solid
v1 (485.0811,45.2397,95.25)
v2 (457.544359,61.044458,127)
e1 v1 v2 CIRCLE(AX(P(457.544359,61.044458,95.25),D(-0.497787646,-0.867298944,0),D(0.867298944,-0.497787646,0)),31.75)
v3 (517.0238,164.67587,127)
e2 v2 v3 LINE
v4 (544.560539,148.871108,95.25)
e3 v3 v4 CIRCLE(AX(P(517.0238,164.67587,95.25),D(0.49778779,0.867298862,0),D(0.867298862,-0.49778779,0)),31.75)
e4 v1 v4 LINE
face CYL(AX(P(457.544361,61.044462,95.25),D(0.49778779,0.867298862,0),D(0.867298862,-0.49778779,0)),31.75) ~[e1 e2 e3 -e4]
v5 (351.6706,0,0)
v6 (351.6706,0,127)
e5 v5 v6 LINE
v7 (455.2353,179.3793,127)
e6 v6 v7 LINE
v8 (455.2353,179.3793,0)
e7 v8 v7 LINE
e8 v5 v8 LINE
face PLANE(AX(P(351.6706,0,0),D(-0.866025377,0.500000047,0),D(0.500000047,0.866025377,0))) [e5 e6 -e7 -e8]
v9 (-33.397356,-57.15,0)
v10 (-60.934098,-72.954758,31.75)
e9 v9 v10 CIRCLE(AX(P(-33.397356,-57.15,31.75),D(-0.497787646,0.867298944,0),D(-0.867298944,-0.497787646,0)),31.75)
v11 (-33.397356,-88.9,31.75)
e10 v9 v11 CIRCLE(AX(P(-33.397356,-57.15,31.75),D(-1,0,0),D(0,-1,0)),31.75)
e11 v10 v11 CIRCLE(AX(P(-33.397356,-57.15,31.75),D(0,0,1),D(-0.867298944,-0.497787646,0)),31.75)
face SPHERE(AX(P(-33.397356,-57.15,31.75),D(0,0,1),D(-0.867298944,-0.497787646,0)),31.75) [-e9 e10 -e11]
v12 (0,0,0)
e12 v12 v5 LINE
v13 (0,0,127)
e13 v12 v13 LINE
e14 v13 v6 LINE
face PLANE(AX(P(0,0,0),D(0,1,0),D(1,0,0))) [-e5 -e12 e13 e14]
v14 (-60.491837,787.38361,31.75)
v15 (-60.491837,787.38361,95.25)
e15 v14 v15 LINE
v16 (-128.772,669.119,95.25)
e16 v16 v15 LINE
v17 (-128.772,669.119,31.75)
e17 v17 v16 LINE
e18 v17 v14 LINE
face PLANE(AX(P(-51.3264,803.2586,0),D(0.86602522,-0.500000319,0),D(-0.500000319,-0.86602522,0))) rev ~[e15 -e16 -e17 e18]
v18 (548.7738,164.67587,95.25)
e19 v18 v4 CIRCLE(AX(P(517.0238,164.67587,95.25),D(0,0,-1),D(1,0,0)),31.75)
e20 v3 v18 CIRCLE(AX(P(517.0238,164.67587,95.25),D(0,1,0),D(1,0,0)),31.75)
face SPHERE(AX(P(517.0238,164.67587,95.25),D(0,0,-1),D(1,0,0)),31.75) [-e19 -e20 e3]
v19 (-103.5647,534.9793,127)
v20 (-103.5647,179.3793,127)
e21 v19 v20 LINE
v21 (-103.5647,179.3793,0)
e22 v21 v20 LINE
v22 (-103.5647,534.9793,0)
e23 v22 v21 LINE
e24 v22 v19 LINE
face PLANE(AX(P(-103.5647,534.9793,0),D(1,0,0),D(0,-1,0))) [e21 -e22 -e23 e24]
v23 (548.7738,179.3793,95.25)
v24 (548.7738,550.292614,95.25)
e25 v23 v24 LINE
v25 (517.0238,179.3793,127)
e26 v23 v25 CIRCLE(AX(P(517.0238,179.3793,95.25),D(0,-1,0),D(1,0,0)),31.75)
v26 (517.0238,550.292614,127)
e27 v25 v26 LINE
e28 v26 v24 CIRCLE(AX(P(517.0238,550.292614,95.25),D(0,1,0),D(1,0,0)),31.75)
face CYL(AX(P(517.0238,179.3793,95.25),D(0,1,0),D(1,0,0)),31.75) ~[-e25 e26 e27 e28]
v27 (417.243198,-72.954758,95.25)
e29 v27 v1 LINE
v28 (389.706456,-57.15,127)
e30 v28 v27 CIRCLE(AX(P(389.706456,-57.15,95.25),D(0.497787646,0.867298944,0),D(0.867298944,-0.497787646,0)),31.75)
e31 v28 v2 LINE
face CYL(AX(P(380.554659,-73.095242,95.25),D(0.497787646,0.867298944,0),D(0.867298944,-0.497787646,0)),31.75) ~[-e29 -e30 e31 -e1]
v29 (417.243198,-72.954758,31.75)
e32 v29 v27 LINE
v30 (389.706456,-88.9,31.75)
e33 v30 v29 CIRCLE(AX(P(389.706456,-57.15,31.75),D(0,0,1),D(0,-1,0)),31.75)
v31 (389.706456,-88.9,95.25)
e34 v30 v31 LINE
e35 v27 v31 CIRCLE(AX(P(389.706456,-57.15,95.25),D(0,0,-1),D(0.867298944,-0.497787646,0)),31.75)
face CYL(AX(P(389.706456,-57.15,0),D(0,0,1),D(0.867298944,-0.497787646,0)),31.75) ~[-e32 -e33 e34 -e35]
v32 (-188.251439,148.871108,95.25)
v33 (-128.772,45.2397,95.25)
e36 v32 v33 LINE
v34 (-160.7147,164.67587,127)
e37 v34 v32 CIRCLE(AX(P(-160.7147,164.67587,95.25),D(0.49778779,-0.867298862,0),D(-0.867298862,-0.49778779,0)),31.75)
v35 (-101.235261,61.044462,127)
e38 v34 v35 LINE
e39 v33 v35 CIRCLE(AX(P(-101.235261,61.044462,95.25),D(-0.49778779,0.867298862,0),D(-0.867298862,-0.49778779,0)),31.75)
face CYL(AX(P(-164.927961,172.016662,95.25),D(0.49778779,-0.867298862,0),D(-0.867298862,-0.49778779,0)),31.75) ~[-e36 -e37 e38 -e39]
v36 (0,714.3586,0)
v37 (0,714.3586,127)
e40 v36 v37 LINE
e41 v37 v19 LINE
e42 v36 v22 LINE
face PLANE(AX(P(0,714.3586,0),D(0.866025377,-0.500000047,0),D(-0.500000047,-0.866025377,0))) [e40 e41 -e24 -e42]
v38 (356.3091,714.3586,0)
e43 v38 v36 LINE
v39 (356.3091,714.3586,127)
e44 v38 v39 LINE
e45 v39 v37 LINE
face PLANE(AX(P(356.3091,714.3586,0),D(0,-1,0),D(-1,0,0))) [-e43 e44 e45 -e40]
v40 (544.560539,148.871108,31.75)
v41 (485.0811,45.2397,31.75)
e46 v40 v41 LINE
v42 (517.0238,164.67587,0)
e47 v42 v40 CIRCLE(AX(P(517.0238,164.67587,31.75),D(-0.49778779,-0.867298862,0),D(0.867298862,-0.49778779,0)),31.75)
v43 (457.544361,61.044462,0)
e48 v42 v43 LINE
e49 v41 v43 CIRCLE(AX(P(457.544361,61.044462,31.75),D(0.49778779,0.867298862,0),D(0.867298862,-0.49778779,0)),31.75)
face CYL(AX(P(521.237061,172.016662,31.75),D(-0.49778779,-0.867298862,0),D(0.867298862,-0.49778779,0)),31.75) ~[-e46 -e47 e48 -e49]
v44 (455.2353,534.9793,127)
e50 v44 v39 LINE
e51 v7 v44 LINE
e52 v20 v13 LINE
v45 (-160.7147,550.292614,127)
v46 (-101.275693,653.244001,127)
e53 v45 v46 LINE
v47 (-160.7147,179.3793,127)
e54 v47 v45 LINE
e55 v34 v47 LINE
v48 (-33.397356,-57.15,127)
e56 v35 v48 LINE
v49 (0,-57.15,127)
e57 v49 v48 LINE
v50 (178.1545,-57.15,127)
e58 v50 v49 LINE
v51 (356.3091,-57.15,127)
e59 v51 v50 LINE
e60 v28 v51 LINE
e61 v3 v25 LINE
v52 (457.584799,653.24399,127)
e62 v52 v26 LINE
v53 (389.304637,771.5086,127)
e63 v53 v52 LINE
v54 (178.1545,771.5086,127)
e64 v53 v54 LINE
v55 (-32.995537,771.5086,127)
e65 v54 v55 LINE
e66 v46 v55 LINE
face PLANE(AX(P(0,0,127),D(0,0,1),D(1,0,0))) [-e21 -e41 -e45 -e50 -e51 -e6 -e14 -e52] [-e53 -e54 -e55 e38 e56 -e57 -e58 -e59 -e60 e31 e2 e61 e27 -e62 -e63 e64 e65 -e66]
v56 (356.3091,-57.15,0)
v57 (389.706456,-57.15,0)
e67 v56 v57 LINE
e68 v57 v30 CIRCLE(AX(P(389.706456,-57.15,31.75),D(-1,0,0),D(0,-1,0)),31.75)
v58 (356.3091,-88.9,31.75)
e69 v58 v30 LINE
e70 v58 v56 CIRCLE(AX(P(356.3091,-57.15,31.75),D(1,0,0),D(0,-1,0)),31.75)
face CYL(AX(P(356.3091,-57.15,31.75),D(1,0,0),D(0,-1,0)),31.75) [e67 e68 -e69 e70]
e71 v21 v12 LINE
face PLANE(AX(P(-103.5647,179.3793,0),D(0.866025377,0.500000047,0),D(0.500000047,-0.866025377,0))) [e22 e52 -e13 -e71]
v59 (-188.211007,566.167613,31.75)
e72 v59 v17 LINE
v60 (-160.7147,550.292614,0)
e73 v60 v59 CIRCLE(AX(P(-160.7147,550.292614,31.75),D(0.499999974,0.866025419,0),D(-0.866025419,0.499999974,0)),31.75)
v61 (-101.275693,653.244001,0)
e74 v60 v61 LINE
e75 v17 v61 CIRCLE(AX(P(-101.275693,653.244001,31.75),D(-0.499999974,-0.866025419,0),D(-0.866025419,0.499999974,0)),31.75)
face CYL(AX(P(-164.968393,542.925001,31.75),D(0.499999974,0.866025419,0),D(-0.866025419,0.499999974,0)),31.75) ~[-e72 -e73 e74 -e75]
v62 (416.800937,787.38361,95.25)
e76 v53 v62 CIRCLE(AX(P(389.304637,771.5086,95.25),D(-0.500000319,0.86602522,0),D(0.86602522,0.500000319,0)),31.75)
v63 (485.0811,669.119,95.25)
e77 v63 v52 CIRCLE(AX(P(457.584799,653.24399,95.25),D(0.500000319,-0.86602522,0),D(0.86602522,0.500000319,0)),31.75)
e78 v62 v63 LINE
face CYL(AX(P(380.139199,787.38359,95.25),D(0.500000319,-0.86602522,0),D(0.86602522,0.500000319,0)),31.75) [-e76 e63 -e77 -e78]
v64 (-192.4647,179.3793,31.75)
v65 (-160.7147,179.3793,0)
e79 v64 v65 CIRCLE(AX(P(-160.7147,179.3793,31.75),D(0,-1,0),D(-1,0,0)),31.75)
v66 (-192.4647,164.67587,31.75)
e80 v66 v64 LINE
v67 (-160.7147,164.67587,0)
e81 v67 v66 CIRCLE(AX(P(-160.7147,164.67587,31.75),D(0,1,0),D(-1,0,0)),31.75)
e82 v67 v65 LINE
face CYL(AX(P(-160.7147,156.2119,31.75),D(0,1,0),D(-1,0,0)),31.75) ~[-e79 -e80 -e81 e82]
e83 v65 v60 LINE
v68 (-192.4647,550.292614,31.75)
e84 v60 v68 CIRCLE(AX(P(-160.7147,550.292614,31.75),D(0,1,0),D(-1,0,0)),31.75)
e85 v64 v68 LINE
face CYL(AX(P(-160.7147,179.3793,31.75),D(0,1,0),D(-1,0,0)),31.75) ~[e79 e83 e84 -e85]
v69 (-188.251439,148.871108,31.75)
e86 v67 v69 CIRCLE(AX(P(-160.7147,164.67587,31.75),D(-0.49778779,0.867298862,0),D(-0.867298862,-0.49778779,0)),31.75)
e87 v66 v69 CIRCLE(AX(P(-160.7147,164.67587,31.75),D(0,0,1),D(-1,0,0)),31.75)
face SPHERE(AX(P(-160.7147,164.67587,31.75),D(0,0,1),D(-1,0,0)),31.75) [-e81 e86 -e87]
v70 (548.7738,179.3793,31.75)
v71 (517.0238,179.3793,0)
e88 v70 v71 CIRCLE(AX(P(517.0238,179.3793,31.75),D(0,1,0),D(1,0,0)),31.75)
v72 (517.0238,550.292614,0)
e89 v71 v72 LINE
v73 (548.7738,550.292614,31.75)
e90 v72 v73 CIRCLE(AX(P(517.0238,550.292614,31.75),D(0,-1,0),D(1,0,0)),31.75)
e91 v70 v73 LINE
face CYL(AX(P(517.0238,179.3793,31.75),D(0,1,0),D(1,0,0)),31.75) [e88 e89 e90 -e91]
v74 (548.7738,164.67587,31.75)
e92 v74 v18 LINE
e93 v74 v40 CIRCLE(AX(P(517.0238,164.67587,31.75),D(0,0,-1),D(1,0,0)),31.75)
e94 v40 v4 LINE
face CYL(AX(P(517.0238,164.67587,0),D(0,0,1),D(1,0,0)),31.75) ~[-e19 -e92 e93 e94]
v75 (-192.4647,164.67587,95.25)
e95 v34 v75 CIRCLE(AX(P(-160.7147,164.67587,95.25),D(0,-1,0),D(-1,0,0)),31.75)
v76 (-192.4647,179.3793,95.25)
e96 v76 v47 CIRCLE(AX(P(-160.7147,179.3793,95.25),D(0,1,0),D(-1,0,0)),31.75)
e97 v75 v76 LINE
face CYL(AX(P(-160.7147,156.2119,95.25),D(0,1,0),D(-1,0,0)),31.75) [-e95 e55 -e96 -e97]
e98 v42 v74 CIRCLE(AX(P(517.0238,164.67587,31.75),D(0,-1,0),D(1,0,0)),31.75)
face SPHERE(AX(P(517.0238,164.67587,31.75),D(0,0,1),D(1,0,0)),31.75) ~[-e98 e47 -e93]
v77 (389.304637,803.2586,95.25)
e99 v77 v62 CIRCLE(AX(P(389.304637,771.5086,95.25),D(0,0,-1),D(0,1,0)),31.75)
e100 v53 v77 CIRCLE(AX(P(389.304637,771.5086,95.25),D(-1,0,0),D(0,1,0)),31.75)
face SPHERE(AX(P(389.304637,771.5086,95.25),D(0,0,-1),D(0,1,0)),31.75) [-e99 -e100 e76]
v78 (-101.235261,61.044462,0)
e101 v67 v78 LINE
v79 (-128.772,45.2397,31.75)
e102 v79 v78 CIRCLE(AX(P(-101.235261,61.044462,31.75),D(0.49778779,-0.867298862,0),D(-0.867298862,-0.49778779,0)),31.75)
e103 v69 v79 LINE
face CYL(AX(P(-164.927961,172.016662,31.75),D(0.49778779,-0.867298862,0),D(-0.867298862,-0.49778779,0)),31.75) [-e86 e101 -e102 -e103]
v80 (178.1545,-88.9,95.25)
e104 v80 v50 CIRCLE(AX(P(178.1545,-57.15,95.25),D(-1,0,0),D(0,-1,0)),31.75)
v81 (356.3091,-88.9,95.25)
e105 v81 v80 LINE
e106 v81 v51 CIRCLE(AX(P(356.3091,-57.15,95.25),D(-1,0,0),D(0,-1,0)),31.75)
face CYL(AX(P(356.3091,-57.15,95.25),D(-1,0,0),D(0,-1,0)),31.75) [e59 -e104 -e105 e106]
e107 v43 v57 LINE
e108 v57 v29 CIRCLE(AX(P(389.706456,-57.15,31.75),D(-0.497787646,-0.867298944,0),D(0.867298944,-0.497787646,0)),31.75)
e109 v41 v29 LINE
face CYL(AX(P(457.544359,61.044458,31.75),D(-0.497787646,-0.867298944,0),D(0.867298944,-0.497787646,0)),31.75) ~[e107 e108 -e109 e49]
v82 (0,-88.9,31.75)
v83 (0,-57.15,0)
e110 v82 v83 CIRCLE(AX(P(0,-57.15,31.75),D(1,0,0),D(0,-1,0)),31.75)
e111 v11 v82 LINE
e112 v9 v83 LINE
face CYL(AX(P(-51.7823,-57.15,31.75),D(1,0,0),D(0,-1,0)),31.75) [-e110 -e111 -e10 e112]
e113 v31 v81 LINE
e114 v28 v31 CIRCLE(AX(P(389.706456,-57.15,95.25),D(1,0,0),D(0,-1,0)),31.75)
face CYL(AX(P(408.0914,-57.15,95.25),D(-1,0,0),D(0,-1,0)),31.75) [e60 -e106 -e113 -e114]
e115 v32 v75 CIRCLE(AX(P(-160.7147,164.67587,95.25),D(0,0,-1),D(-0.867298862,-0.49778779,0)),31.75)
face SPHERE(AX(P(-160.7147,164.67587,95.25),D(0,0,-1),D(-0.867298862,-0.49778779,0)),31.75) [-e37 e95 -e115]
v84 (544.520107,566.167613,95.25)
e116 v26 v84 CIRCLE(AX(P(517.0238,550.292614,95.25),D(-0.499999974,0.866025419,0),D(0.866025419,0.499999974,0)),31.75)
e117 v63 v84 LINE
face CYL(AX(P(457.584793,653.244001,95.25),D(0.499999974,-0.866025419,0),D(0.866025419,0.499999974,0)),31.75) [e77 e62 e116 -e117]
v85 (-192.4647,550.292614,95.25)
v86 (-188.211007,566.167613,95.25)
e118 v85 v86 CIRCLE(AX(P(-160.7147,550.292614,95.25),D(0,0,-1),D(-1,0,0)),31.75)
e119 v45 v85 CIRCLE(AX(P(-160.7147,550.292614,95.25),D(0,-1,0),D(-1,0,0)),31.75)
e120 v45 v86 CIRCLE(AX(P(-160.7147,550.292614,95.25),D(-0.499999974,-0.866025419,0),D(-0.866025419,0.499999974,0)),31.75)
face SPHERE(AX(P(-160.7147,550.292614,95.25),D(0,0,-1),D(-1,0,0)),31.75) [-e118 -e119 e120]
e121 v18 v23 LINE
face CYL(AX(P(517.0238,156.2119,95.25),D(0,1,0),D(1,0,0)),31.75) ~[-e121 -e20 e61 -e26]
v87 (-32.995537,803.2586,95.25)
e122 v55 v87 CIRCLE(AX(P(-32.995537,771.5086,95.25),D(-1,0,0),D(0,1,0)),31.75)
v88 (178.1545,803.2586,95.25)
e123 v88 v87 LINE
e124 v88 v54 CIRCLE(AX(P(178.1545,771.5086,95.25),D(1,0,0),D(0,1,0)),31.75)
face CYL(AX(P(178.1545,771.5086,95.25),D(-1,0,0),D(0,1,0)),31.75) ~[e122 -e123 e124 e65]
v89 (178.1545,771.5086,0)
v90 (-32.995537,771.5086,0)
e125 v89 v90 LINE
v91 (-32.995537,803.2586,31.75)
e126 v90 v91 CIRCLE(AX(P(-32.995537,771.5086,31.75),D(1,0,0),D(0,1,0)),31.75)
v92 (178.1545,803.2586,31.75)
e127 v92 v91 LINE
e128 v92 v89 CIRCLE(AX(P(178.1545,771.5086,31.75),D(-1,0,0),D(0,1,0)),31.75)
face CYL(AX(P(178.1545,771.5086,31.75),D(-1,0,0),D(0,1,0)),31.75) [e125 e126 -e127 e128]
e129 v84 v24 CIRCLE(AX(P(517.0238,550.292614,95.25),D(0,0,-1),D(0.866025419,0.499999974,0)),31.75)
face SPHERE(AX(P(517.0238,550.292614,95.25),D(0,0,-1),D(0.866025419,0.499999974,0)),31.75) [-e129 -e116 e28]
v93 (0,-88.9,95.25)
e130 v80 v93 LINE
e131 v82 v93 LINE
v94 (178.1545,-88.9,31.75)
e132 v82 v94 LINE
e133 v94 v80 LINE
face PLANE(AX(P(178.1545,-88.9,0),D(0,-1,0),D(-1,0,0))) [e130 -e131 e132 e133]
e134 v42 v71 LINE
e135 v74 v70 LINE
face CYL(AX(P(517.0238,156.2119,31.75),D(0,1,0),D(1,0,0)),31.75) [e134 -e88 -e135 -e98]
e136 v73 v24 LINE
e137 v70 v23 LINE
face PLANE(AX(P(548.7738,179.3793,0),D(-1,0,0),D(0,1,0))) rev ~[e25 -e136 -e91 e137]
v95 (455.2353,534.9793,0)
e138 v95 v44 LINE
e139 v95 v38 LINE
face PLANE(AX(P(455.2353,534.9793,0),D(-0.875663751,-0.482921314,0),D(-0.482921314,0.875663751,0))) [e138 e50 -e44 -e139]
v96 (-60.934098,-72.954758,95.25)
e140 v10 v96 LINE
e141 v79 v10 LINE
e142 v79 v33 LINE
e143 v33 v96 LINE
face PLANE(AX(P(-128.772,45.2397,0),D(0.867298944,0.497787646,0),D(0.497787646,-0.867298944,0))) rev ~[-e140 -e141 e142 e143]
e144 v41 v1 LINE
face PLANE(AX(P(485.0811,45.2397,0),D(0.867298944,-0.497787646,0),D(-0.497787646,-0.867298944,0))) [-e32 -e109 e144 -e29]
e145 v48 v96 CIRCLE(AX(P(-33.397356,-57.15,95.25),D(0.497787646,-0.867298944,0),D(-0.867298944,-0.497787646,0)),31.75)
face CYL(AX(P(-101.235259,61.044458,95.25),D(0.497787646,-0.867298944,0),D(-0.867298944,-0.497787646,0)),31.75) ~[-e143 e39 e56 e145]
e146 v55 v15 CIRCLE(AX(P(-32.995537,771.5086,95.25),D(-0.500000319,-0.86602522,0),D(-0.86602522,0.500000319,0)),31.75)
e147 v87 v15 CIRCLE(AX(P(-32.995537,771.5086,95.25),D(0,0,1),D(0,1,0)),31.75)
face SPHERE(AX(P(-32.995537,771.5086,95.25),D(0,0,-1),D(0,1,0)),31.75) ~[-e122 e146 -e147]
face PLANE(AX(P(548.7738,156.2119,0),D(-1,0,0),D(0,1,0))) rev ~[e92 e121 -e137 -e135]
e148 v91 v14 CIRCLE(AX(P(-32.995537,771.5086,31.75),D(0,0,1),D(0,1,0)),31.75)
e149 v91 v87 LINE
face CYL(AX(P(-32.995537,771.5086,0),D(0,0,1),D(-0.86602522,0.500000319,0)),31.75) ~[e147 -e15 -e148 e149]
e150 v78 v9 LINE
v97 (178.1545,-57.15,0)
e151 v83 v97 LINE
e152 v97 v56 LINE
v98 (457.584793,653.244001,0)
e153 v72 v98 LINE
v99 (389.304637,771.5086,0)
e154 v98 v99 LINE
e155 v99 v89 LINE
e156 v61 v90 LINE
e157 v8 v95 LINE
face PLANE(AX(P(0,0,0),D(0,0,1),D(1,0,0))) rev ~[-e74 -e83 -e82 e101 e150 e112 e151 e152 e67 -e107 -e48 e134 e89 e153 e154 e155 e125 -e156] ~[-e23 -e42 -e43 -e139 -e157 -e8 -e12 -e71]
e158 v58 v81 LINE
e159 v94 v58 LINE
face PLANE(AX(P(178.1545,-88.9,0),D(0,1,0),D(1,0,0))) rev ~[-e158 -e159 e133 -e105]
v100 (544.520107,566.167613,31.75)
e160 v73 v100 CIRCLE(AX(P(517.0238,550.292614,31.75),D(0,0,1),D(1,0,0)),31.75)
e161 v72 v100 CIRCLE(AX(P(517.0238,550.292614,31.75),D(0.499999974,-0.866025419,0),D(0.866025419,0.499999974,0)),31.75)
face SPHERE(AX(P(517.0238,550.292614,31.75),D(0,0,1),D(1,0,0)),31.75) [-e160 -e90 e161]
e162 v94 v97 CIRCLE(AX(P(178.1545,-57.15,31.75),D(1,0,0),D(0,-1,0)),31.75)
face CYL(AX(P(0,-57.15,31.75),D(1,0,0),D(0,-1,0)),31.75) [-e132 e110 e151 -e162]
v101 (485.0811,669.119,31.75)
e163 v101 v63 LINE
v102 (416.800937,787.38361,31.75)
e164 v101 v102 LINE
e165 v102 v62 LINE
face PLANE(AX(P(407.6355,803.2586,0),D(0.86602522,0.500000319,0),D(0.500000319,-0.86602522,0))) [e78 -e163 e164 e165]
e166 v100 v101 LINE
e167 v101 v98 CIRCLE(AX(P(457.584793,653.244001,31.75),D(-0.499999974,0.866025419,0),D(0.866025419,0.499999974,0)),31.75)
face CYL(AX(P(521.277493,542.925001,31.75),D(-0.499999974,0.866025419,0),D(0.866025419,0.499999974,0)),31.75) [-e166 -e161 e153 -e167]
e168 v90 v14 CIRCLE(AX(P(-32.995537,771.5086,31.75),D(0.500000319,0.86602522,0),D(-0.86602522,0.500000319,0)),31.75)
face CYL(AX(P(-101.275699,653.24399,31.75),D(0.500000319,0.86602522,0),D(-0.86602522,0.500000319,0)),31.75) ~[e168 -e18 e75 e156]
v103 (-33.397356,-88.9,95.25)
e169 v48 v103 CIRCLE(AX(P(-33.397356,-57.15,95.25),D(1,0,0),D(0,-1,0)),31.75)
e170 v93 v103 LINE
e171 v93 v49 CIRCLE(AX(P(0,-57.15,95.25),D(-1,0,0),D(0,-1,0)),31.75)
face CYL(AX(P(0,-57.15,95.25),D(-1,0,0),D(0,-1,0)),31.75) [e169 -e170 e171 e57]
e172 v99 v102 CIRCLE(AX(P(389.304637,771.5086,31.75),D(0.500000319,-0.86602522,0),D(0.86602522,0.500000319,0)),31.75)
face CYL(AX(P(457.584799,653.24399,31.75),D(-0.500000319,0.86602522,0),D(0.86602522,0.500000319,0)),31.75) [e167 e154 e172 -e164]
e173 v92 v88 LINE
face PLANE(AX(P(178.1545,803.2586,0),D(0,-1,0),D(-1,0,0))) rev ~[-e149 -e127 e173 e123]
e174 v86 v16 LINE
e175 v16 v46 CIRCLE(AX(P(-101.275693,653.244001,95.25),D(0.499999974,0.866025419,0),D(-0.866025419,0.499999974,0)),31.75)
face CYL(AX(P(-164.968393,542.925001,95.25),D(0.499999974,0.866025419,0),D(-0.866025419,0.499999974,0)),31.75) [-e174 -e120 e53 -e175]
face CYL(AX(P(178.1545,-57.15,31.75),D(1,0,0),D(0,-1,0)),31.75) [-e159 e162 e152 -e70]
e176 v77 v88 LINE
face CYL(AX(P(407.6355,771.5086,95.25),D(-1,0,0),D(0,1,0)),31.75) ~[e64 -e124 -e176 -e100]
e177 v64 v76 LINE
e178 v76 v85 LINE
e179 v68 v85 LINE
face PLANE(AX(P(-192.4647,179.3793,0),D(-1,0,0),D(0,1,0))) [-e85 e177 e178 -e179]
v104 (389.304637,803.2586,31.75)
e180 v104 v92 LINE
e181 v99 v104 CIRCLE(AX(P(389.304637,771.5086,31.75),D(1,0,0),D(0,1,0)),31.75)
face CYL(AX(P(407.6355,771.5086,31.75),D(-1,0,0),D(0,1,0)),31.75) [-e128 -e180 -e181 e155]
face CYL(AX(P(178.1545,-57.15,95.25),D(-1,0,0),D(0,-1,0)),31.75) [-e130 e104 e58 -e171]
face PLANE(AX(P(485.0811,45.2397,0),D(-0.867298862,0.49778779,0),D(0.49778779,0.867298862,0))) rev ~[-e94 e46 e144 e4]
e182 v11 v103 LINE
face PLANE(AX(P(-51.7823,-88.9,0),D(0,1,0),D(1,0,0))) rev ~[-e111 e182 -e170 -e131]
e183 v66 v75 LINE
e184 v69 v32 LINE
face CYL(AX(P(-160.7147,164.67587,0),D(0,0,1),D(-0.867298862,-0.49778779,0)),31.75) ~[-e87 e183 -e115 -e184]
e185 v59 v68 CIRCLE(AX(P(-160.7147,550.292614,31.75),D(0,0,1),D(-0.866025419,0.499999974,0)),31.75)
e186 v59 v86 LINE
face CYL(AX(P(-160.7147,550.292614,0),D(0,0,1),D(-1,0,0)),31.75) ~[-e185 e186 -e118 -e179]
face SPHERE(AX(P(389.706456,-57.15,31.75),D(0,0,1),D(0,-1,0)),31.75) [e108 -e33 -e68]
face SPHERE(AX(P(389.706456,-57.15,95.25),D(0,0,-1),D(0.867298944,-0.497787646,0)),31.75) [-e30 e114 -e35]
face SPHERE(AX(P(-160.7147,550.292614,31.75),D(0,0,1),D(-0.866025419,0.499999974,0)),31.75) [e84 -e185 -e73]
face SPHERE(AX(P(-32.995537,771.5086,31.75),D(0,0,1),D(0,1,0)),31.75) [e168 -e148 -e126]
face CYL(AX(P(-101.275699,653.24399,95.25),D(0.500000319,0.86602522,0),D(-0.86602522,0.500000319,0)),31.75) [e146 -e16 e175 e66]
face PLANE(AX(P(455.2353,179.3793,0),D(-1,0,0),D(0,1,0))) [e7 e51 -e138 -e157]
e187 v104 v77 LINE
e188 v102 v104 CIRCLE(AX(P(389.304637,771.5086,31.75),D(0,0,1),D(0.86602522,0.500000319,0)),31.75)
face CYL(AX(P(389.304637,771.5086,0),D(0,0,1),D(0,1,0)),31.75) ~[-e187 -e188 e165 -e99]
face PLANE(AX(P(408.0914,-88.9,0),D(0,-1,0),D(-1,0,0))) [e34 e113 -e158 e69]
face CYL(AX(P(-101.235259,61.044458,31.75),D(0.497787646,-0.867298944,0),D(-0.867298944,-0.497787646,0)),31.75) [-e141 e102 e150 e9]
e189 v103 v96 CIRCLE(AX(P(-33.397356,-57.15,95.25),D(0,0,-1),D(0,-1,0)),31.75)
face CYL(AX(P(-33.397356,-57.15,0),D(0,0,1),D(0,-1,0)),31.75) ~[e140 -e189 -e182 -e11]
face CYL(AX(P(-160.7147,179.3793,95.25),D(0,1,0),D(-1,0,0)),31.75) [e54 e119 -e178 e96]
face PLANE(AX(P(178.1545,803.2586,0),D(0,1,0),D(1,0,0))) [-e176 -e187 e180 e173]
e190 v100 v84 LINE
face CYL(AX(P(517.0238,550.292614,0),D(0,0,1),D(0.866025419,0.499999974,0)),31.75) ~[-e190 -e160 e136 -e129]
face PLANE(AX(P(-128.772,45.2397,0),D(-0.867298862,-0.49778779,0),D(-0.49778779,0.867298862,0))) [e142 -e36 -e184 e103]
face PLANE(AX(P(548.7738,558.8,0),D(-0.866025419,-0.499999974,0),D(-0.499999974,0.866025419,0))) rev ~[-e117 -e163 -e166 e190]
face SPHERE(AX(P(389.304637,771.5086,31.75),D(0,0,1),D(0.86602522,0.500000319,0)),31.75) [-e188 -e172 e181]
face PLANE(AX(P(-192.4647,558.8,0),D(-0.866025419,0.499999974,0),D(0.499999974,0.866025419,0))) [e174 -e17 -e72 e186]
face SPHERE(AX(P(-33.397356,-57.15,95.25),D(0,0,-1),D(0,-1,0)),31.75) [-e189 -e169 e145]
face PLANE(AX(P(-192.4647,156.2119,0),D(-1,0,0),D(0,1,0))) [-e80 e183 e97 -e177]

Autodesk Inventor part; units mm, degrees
ref_plane "YZ Plane" through (0, 0, 0) normal (1, 0, 0) x (0, 1, 0)
ref_plane "XZ Plane" through (0, 0, 0) normal (0, 1, 0) x (-1, 0, 0)
ref_plane "XY Plane" through (0, 0, 0) normal (0, 0, 1) x (1, 0, 0)
sketch "Sketch1" plane through (0, 0, 0) normal (0, 0, 1) x (1, 0, 0)
  line L0 (0, 0) -> (351.6706, 0)
  line L1 (-103.5647, 179.3793) -> (0, 0)
  line L2 (351.6706, 0) -> (455.2353, 179.3793)
  line L3 (455.2353, 179.3793) -> (455.2353, 534.9793)
  line L4 (-103.5647, 534.9793) -> (-103.5647, 179.3793)
  line L5 (0, 714.3586) -> (-103.5647, 534.9793)
  line L6 (356.3091, 714.3586) -> (0, 714.3586)
  line L7 (455.2353, 534.9793) -> (356.3091, 714.3586)
  line L8 (-103.5647, 179.3793) -> (-192.4647, 179.3793) construction
  line L9 (-51.7823, 89.6897) -> (-128.772, 45.2397) construction
  line L10 (-128.772, 45.2397) -> (-51.7823, -88.9)
  line L11 (-51.7823, -88.9) -> (0, -88.9)
  line L12 (178.1545, -88.9) -> (178.1545, 714.3586) construction
  line L13 (178.1545, -88.9) -> (0, -88.9)
  line L14 (-128.772, 45.2397) -> (-192.4647, 156.2119)
  line L15 (-192.4647, 156.2119) -> (-192.4647, 179.3793)
  line L16 (178.1545, 714.3586) -> (178.1545, 803.2586) construction
  line L17 (-51.7823, 624.669) -> (-128.772, 669.119) construction
  line L18 (-192.4647, 179.3793) -> (-192.4647, 558.8)
  line L19 (-192.4647, 558.8) -> (-128.772, 669.119)
  line L20 (178.1545, 803.2586) -> (-51.3264, 803.2586)
  line L21 (-51.3264, 803.2586) -> (-128.772, 669.119)
  line L22 (485.0811, 45.2397) -> (408.0914, -88.9)
  line L23 (178.1545, -88.9) -> (356.3091, -88.9)
  line L24 (485.0811, 45.2397) -> (548.7738, 156.2119)
  line L25 (548.7738, 156.2119) -> (548.7738, 179.3793)
  line L26 (408.0914, 624.669) -> (485.0811, 669.119) construction
  line L27 (548.7738, 179.3793) -> (548.7738, 558.8)
  line L28 (548.7738, 558.8) -> (485.0811, 669.119)
  line L29 (178.1545, 803.2586) -> (407.6355, 803.2586)
  line L30 (407.6355, 803.2586) -> (485.0811, 669.119)
  line L31 (408.0914, -88.9) -> (356.3091, -88.9)
  point P0 (175.8353, 357.1793)
  dimension "d0" = 88.9
  dimension "d1" = 88.9
  dimension "d2" = 88.9
  dimension "d3" = 88.9
  dimension "d4" = 88.9
  dimension "d8" = 88.9
extrude "Extrusion1" add sketch "Sketch1" along normal blind 127
fillet "Fillet1" radius 31.75 24 edges at (63.414, 803.2586, 127) (446.3583, 736.1888, 127) (548.7738, 369.0897, 127) (516.9274, 100.7258, 127) (89.0773, -88.9, 127) (-90.2772, -21.8302, 127) (-192.4647, 167.7956, 127) (-160.6184, 613.9595, 127) (548.7738, 369.0897, 0) (516.9274, 613.9595, 0) (63.414, 803.2586, 0) (-160.6184, 613.9595, 0) (-192.4647, 167.7956, 0) (-90.2772, -21.8302, 0) (-25.8912, -88.9, 0) (446.5863, -21.8302, 0) (548.7738, 156.2119, 63.5) (548.7738, 558.8, 63.5) (407.6355, 803.2586, 63.5) (-51.3264, 803.2586, 63.5) (-192.4647, 558.8, 63.5) (-192.4647, 156.2119, 63.5) (-51.7823, -88.9, 63.5) (408.0914, -88.9, 63.5)
properties part number "Bumpers"
